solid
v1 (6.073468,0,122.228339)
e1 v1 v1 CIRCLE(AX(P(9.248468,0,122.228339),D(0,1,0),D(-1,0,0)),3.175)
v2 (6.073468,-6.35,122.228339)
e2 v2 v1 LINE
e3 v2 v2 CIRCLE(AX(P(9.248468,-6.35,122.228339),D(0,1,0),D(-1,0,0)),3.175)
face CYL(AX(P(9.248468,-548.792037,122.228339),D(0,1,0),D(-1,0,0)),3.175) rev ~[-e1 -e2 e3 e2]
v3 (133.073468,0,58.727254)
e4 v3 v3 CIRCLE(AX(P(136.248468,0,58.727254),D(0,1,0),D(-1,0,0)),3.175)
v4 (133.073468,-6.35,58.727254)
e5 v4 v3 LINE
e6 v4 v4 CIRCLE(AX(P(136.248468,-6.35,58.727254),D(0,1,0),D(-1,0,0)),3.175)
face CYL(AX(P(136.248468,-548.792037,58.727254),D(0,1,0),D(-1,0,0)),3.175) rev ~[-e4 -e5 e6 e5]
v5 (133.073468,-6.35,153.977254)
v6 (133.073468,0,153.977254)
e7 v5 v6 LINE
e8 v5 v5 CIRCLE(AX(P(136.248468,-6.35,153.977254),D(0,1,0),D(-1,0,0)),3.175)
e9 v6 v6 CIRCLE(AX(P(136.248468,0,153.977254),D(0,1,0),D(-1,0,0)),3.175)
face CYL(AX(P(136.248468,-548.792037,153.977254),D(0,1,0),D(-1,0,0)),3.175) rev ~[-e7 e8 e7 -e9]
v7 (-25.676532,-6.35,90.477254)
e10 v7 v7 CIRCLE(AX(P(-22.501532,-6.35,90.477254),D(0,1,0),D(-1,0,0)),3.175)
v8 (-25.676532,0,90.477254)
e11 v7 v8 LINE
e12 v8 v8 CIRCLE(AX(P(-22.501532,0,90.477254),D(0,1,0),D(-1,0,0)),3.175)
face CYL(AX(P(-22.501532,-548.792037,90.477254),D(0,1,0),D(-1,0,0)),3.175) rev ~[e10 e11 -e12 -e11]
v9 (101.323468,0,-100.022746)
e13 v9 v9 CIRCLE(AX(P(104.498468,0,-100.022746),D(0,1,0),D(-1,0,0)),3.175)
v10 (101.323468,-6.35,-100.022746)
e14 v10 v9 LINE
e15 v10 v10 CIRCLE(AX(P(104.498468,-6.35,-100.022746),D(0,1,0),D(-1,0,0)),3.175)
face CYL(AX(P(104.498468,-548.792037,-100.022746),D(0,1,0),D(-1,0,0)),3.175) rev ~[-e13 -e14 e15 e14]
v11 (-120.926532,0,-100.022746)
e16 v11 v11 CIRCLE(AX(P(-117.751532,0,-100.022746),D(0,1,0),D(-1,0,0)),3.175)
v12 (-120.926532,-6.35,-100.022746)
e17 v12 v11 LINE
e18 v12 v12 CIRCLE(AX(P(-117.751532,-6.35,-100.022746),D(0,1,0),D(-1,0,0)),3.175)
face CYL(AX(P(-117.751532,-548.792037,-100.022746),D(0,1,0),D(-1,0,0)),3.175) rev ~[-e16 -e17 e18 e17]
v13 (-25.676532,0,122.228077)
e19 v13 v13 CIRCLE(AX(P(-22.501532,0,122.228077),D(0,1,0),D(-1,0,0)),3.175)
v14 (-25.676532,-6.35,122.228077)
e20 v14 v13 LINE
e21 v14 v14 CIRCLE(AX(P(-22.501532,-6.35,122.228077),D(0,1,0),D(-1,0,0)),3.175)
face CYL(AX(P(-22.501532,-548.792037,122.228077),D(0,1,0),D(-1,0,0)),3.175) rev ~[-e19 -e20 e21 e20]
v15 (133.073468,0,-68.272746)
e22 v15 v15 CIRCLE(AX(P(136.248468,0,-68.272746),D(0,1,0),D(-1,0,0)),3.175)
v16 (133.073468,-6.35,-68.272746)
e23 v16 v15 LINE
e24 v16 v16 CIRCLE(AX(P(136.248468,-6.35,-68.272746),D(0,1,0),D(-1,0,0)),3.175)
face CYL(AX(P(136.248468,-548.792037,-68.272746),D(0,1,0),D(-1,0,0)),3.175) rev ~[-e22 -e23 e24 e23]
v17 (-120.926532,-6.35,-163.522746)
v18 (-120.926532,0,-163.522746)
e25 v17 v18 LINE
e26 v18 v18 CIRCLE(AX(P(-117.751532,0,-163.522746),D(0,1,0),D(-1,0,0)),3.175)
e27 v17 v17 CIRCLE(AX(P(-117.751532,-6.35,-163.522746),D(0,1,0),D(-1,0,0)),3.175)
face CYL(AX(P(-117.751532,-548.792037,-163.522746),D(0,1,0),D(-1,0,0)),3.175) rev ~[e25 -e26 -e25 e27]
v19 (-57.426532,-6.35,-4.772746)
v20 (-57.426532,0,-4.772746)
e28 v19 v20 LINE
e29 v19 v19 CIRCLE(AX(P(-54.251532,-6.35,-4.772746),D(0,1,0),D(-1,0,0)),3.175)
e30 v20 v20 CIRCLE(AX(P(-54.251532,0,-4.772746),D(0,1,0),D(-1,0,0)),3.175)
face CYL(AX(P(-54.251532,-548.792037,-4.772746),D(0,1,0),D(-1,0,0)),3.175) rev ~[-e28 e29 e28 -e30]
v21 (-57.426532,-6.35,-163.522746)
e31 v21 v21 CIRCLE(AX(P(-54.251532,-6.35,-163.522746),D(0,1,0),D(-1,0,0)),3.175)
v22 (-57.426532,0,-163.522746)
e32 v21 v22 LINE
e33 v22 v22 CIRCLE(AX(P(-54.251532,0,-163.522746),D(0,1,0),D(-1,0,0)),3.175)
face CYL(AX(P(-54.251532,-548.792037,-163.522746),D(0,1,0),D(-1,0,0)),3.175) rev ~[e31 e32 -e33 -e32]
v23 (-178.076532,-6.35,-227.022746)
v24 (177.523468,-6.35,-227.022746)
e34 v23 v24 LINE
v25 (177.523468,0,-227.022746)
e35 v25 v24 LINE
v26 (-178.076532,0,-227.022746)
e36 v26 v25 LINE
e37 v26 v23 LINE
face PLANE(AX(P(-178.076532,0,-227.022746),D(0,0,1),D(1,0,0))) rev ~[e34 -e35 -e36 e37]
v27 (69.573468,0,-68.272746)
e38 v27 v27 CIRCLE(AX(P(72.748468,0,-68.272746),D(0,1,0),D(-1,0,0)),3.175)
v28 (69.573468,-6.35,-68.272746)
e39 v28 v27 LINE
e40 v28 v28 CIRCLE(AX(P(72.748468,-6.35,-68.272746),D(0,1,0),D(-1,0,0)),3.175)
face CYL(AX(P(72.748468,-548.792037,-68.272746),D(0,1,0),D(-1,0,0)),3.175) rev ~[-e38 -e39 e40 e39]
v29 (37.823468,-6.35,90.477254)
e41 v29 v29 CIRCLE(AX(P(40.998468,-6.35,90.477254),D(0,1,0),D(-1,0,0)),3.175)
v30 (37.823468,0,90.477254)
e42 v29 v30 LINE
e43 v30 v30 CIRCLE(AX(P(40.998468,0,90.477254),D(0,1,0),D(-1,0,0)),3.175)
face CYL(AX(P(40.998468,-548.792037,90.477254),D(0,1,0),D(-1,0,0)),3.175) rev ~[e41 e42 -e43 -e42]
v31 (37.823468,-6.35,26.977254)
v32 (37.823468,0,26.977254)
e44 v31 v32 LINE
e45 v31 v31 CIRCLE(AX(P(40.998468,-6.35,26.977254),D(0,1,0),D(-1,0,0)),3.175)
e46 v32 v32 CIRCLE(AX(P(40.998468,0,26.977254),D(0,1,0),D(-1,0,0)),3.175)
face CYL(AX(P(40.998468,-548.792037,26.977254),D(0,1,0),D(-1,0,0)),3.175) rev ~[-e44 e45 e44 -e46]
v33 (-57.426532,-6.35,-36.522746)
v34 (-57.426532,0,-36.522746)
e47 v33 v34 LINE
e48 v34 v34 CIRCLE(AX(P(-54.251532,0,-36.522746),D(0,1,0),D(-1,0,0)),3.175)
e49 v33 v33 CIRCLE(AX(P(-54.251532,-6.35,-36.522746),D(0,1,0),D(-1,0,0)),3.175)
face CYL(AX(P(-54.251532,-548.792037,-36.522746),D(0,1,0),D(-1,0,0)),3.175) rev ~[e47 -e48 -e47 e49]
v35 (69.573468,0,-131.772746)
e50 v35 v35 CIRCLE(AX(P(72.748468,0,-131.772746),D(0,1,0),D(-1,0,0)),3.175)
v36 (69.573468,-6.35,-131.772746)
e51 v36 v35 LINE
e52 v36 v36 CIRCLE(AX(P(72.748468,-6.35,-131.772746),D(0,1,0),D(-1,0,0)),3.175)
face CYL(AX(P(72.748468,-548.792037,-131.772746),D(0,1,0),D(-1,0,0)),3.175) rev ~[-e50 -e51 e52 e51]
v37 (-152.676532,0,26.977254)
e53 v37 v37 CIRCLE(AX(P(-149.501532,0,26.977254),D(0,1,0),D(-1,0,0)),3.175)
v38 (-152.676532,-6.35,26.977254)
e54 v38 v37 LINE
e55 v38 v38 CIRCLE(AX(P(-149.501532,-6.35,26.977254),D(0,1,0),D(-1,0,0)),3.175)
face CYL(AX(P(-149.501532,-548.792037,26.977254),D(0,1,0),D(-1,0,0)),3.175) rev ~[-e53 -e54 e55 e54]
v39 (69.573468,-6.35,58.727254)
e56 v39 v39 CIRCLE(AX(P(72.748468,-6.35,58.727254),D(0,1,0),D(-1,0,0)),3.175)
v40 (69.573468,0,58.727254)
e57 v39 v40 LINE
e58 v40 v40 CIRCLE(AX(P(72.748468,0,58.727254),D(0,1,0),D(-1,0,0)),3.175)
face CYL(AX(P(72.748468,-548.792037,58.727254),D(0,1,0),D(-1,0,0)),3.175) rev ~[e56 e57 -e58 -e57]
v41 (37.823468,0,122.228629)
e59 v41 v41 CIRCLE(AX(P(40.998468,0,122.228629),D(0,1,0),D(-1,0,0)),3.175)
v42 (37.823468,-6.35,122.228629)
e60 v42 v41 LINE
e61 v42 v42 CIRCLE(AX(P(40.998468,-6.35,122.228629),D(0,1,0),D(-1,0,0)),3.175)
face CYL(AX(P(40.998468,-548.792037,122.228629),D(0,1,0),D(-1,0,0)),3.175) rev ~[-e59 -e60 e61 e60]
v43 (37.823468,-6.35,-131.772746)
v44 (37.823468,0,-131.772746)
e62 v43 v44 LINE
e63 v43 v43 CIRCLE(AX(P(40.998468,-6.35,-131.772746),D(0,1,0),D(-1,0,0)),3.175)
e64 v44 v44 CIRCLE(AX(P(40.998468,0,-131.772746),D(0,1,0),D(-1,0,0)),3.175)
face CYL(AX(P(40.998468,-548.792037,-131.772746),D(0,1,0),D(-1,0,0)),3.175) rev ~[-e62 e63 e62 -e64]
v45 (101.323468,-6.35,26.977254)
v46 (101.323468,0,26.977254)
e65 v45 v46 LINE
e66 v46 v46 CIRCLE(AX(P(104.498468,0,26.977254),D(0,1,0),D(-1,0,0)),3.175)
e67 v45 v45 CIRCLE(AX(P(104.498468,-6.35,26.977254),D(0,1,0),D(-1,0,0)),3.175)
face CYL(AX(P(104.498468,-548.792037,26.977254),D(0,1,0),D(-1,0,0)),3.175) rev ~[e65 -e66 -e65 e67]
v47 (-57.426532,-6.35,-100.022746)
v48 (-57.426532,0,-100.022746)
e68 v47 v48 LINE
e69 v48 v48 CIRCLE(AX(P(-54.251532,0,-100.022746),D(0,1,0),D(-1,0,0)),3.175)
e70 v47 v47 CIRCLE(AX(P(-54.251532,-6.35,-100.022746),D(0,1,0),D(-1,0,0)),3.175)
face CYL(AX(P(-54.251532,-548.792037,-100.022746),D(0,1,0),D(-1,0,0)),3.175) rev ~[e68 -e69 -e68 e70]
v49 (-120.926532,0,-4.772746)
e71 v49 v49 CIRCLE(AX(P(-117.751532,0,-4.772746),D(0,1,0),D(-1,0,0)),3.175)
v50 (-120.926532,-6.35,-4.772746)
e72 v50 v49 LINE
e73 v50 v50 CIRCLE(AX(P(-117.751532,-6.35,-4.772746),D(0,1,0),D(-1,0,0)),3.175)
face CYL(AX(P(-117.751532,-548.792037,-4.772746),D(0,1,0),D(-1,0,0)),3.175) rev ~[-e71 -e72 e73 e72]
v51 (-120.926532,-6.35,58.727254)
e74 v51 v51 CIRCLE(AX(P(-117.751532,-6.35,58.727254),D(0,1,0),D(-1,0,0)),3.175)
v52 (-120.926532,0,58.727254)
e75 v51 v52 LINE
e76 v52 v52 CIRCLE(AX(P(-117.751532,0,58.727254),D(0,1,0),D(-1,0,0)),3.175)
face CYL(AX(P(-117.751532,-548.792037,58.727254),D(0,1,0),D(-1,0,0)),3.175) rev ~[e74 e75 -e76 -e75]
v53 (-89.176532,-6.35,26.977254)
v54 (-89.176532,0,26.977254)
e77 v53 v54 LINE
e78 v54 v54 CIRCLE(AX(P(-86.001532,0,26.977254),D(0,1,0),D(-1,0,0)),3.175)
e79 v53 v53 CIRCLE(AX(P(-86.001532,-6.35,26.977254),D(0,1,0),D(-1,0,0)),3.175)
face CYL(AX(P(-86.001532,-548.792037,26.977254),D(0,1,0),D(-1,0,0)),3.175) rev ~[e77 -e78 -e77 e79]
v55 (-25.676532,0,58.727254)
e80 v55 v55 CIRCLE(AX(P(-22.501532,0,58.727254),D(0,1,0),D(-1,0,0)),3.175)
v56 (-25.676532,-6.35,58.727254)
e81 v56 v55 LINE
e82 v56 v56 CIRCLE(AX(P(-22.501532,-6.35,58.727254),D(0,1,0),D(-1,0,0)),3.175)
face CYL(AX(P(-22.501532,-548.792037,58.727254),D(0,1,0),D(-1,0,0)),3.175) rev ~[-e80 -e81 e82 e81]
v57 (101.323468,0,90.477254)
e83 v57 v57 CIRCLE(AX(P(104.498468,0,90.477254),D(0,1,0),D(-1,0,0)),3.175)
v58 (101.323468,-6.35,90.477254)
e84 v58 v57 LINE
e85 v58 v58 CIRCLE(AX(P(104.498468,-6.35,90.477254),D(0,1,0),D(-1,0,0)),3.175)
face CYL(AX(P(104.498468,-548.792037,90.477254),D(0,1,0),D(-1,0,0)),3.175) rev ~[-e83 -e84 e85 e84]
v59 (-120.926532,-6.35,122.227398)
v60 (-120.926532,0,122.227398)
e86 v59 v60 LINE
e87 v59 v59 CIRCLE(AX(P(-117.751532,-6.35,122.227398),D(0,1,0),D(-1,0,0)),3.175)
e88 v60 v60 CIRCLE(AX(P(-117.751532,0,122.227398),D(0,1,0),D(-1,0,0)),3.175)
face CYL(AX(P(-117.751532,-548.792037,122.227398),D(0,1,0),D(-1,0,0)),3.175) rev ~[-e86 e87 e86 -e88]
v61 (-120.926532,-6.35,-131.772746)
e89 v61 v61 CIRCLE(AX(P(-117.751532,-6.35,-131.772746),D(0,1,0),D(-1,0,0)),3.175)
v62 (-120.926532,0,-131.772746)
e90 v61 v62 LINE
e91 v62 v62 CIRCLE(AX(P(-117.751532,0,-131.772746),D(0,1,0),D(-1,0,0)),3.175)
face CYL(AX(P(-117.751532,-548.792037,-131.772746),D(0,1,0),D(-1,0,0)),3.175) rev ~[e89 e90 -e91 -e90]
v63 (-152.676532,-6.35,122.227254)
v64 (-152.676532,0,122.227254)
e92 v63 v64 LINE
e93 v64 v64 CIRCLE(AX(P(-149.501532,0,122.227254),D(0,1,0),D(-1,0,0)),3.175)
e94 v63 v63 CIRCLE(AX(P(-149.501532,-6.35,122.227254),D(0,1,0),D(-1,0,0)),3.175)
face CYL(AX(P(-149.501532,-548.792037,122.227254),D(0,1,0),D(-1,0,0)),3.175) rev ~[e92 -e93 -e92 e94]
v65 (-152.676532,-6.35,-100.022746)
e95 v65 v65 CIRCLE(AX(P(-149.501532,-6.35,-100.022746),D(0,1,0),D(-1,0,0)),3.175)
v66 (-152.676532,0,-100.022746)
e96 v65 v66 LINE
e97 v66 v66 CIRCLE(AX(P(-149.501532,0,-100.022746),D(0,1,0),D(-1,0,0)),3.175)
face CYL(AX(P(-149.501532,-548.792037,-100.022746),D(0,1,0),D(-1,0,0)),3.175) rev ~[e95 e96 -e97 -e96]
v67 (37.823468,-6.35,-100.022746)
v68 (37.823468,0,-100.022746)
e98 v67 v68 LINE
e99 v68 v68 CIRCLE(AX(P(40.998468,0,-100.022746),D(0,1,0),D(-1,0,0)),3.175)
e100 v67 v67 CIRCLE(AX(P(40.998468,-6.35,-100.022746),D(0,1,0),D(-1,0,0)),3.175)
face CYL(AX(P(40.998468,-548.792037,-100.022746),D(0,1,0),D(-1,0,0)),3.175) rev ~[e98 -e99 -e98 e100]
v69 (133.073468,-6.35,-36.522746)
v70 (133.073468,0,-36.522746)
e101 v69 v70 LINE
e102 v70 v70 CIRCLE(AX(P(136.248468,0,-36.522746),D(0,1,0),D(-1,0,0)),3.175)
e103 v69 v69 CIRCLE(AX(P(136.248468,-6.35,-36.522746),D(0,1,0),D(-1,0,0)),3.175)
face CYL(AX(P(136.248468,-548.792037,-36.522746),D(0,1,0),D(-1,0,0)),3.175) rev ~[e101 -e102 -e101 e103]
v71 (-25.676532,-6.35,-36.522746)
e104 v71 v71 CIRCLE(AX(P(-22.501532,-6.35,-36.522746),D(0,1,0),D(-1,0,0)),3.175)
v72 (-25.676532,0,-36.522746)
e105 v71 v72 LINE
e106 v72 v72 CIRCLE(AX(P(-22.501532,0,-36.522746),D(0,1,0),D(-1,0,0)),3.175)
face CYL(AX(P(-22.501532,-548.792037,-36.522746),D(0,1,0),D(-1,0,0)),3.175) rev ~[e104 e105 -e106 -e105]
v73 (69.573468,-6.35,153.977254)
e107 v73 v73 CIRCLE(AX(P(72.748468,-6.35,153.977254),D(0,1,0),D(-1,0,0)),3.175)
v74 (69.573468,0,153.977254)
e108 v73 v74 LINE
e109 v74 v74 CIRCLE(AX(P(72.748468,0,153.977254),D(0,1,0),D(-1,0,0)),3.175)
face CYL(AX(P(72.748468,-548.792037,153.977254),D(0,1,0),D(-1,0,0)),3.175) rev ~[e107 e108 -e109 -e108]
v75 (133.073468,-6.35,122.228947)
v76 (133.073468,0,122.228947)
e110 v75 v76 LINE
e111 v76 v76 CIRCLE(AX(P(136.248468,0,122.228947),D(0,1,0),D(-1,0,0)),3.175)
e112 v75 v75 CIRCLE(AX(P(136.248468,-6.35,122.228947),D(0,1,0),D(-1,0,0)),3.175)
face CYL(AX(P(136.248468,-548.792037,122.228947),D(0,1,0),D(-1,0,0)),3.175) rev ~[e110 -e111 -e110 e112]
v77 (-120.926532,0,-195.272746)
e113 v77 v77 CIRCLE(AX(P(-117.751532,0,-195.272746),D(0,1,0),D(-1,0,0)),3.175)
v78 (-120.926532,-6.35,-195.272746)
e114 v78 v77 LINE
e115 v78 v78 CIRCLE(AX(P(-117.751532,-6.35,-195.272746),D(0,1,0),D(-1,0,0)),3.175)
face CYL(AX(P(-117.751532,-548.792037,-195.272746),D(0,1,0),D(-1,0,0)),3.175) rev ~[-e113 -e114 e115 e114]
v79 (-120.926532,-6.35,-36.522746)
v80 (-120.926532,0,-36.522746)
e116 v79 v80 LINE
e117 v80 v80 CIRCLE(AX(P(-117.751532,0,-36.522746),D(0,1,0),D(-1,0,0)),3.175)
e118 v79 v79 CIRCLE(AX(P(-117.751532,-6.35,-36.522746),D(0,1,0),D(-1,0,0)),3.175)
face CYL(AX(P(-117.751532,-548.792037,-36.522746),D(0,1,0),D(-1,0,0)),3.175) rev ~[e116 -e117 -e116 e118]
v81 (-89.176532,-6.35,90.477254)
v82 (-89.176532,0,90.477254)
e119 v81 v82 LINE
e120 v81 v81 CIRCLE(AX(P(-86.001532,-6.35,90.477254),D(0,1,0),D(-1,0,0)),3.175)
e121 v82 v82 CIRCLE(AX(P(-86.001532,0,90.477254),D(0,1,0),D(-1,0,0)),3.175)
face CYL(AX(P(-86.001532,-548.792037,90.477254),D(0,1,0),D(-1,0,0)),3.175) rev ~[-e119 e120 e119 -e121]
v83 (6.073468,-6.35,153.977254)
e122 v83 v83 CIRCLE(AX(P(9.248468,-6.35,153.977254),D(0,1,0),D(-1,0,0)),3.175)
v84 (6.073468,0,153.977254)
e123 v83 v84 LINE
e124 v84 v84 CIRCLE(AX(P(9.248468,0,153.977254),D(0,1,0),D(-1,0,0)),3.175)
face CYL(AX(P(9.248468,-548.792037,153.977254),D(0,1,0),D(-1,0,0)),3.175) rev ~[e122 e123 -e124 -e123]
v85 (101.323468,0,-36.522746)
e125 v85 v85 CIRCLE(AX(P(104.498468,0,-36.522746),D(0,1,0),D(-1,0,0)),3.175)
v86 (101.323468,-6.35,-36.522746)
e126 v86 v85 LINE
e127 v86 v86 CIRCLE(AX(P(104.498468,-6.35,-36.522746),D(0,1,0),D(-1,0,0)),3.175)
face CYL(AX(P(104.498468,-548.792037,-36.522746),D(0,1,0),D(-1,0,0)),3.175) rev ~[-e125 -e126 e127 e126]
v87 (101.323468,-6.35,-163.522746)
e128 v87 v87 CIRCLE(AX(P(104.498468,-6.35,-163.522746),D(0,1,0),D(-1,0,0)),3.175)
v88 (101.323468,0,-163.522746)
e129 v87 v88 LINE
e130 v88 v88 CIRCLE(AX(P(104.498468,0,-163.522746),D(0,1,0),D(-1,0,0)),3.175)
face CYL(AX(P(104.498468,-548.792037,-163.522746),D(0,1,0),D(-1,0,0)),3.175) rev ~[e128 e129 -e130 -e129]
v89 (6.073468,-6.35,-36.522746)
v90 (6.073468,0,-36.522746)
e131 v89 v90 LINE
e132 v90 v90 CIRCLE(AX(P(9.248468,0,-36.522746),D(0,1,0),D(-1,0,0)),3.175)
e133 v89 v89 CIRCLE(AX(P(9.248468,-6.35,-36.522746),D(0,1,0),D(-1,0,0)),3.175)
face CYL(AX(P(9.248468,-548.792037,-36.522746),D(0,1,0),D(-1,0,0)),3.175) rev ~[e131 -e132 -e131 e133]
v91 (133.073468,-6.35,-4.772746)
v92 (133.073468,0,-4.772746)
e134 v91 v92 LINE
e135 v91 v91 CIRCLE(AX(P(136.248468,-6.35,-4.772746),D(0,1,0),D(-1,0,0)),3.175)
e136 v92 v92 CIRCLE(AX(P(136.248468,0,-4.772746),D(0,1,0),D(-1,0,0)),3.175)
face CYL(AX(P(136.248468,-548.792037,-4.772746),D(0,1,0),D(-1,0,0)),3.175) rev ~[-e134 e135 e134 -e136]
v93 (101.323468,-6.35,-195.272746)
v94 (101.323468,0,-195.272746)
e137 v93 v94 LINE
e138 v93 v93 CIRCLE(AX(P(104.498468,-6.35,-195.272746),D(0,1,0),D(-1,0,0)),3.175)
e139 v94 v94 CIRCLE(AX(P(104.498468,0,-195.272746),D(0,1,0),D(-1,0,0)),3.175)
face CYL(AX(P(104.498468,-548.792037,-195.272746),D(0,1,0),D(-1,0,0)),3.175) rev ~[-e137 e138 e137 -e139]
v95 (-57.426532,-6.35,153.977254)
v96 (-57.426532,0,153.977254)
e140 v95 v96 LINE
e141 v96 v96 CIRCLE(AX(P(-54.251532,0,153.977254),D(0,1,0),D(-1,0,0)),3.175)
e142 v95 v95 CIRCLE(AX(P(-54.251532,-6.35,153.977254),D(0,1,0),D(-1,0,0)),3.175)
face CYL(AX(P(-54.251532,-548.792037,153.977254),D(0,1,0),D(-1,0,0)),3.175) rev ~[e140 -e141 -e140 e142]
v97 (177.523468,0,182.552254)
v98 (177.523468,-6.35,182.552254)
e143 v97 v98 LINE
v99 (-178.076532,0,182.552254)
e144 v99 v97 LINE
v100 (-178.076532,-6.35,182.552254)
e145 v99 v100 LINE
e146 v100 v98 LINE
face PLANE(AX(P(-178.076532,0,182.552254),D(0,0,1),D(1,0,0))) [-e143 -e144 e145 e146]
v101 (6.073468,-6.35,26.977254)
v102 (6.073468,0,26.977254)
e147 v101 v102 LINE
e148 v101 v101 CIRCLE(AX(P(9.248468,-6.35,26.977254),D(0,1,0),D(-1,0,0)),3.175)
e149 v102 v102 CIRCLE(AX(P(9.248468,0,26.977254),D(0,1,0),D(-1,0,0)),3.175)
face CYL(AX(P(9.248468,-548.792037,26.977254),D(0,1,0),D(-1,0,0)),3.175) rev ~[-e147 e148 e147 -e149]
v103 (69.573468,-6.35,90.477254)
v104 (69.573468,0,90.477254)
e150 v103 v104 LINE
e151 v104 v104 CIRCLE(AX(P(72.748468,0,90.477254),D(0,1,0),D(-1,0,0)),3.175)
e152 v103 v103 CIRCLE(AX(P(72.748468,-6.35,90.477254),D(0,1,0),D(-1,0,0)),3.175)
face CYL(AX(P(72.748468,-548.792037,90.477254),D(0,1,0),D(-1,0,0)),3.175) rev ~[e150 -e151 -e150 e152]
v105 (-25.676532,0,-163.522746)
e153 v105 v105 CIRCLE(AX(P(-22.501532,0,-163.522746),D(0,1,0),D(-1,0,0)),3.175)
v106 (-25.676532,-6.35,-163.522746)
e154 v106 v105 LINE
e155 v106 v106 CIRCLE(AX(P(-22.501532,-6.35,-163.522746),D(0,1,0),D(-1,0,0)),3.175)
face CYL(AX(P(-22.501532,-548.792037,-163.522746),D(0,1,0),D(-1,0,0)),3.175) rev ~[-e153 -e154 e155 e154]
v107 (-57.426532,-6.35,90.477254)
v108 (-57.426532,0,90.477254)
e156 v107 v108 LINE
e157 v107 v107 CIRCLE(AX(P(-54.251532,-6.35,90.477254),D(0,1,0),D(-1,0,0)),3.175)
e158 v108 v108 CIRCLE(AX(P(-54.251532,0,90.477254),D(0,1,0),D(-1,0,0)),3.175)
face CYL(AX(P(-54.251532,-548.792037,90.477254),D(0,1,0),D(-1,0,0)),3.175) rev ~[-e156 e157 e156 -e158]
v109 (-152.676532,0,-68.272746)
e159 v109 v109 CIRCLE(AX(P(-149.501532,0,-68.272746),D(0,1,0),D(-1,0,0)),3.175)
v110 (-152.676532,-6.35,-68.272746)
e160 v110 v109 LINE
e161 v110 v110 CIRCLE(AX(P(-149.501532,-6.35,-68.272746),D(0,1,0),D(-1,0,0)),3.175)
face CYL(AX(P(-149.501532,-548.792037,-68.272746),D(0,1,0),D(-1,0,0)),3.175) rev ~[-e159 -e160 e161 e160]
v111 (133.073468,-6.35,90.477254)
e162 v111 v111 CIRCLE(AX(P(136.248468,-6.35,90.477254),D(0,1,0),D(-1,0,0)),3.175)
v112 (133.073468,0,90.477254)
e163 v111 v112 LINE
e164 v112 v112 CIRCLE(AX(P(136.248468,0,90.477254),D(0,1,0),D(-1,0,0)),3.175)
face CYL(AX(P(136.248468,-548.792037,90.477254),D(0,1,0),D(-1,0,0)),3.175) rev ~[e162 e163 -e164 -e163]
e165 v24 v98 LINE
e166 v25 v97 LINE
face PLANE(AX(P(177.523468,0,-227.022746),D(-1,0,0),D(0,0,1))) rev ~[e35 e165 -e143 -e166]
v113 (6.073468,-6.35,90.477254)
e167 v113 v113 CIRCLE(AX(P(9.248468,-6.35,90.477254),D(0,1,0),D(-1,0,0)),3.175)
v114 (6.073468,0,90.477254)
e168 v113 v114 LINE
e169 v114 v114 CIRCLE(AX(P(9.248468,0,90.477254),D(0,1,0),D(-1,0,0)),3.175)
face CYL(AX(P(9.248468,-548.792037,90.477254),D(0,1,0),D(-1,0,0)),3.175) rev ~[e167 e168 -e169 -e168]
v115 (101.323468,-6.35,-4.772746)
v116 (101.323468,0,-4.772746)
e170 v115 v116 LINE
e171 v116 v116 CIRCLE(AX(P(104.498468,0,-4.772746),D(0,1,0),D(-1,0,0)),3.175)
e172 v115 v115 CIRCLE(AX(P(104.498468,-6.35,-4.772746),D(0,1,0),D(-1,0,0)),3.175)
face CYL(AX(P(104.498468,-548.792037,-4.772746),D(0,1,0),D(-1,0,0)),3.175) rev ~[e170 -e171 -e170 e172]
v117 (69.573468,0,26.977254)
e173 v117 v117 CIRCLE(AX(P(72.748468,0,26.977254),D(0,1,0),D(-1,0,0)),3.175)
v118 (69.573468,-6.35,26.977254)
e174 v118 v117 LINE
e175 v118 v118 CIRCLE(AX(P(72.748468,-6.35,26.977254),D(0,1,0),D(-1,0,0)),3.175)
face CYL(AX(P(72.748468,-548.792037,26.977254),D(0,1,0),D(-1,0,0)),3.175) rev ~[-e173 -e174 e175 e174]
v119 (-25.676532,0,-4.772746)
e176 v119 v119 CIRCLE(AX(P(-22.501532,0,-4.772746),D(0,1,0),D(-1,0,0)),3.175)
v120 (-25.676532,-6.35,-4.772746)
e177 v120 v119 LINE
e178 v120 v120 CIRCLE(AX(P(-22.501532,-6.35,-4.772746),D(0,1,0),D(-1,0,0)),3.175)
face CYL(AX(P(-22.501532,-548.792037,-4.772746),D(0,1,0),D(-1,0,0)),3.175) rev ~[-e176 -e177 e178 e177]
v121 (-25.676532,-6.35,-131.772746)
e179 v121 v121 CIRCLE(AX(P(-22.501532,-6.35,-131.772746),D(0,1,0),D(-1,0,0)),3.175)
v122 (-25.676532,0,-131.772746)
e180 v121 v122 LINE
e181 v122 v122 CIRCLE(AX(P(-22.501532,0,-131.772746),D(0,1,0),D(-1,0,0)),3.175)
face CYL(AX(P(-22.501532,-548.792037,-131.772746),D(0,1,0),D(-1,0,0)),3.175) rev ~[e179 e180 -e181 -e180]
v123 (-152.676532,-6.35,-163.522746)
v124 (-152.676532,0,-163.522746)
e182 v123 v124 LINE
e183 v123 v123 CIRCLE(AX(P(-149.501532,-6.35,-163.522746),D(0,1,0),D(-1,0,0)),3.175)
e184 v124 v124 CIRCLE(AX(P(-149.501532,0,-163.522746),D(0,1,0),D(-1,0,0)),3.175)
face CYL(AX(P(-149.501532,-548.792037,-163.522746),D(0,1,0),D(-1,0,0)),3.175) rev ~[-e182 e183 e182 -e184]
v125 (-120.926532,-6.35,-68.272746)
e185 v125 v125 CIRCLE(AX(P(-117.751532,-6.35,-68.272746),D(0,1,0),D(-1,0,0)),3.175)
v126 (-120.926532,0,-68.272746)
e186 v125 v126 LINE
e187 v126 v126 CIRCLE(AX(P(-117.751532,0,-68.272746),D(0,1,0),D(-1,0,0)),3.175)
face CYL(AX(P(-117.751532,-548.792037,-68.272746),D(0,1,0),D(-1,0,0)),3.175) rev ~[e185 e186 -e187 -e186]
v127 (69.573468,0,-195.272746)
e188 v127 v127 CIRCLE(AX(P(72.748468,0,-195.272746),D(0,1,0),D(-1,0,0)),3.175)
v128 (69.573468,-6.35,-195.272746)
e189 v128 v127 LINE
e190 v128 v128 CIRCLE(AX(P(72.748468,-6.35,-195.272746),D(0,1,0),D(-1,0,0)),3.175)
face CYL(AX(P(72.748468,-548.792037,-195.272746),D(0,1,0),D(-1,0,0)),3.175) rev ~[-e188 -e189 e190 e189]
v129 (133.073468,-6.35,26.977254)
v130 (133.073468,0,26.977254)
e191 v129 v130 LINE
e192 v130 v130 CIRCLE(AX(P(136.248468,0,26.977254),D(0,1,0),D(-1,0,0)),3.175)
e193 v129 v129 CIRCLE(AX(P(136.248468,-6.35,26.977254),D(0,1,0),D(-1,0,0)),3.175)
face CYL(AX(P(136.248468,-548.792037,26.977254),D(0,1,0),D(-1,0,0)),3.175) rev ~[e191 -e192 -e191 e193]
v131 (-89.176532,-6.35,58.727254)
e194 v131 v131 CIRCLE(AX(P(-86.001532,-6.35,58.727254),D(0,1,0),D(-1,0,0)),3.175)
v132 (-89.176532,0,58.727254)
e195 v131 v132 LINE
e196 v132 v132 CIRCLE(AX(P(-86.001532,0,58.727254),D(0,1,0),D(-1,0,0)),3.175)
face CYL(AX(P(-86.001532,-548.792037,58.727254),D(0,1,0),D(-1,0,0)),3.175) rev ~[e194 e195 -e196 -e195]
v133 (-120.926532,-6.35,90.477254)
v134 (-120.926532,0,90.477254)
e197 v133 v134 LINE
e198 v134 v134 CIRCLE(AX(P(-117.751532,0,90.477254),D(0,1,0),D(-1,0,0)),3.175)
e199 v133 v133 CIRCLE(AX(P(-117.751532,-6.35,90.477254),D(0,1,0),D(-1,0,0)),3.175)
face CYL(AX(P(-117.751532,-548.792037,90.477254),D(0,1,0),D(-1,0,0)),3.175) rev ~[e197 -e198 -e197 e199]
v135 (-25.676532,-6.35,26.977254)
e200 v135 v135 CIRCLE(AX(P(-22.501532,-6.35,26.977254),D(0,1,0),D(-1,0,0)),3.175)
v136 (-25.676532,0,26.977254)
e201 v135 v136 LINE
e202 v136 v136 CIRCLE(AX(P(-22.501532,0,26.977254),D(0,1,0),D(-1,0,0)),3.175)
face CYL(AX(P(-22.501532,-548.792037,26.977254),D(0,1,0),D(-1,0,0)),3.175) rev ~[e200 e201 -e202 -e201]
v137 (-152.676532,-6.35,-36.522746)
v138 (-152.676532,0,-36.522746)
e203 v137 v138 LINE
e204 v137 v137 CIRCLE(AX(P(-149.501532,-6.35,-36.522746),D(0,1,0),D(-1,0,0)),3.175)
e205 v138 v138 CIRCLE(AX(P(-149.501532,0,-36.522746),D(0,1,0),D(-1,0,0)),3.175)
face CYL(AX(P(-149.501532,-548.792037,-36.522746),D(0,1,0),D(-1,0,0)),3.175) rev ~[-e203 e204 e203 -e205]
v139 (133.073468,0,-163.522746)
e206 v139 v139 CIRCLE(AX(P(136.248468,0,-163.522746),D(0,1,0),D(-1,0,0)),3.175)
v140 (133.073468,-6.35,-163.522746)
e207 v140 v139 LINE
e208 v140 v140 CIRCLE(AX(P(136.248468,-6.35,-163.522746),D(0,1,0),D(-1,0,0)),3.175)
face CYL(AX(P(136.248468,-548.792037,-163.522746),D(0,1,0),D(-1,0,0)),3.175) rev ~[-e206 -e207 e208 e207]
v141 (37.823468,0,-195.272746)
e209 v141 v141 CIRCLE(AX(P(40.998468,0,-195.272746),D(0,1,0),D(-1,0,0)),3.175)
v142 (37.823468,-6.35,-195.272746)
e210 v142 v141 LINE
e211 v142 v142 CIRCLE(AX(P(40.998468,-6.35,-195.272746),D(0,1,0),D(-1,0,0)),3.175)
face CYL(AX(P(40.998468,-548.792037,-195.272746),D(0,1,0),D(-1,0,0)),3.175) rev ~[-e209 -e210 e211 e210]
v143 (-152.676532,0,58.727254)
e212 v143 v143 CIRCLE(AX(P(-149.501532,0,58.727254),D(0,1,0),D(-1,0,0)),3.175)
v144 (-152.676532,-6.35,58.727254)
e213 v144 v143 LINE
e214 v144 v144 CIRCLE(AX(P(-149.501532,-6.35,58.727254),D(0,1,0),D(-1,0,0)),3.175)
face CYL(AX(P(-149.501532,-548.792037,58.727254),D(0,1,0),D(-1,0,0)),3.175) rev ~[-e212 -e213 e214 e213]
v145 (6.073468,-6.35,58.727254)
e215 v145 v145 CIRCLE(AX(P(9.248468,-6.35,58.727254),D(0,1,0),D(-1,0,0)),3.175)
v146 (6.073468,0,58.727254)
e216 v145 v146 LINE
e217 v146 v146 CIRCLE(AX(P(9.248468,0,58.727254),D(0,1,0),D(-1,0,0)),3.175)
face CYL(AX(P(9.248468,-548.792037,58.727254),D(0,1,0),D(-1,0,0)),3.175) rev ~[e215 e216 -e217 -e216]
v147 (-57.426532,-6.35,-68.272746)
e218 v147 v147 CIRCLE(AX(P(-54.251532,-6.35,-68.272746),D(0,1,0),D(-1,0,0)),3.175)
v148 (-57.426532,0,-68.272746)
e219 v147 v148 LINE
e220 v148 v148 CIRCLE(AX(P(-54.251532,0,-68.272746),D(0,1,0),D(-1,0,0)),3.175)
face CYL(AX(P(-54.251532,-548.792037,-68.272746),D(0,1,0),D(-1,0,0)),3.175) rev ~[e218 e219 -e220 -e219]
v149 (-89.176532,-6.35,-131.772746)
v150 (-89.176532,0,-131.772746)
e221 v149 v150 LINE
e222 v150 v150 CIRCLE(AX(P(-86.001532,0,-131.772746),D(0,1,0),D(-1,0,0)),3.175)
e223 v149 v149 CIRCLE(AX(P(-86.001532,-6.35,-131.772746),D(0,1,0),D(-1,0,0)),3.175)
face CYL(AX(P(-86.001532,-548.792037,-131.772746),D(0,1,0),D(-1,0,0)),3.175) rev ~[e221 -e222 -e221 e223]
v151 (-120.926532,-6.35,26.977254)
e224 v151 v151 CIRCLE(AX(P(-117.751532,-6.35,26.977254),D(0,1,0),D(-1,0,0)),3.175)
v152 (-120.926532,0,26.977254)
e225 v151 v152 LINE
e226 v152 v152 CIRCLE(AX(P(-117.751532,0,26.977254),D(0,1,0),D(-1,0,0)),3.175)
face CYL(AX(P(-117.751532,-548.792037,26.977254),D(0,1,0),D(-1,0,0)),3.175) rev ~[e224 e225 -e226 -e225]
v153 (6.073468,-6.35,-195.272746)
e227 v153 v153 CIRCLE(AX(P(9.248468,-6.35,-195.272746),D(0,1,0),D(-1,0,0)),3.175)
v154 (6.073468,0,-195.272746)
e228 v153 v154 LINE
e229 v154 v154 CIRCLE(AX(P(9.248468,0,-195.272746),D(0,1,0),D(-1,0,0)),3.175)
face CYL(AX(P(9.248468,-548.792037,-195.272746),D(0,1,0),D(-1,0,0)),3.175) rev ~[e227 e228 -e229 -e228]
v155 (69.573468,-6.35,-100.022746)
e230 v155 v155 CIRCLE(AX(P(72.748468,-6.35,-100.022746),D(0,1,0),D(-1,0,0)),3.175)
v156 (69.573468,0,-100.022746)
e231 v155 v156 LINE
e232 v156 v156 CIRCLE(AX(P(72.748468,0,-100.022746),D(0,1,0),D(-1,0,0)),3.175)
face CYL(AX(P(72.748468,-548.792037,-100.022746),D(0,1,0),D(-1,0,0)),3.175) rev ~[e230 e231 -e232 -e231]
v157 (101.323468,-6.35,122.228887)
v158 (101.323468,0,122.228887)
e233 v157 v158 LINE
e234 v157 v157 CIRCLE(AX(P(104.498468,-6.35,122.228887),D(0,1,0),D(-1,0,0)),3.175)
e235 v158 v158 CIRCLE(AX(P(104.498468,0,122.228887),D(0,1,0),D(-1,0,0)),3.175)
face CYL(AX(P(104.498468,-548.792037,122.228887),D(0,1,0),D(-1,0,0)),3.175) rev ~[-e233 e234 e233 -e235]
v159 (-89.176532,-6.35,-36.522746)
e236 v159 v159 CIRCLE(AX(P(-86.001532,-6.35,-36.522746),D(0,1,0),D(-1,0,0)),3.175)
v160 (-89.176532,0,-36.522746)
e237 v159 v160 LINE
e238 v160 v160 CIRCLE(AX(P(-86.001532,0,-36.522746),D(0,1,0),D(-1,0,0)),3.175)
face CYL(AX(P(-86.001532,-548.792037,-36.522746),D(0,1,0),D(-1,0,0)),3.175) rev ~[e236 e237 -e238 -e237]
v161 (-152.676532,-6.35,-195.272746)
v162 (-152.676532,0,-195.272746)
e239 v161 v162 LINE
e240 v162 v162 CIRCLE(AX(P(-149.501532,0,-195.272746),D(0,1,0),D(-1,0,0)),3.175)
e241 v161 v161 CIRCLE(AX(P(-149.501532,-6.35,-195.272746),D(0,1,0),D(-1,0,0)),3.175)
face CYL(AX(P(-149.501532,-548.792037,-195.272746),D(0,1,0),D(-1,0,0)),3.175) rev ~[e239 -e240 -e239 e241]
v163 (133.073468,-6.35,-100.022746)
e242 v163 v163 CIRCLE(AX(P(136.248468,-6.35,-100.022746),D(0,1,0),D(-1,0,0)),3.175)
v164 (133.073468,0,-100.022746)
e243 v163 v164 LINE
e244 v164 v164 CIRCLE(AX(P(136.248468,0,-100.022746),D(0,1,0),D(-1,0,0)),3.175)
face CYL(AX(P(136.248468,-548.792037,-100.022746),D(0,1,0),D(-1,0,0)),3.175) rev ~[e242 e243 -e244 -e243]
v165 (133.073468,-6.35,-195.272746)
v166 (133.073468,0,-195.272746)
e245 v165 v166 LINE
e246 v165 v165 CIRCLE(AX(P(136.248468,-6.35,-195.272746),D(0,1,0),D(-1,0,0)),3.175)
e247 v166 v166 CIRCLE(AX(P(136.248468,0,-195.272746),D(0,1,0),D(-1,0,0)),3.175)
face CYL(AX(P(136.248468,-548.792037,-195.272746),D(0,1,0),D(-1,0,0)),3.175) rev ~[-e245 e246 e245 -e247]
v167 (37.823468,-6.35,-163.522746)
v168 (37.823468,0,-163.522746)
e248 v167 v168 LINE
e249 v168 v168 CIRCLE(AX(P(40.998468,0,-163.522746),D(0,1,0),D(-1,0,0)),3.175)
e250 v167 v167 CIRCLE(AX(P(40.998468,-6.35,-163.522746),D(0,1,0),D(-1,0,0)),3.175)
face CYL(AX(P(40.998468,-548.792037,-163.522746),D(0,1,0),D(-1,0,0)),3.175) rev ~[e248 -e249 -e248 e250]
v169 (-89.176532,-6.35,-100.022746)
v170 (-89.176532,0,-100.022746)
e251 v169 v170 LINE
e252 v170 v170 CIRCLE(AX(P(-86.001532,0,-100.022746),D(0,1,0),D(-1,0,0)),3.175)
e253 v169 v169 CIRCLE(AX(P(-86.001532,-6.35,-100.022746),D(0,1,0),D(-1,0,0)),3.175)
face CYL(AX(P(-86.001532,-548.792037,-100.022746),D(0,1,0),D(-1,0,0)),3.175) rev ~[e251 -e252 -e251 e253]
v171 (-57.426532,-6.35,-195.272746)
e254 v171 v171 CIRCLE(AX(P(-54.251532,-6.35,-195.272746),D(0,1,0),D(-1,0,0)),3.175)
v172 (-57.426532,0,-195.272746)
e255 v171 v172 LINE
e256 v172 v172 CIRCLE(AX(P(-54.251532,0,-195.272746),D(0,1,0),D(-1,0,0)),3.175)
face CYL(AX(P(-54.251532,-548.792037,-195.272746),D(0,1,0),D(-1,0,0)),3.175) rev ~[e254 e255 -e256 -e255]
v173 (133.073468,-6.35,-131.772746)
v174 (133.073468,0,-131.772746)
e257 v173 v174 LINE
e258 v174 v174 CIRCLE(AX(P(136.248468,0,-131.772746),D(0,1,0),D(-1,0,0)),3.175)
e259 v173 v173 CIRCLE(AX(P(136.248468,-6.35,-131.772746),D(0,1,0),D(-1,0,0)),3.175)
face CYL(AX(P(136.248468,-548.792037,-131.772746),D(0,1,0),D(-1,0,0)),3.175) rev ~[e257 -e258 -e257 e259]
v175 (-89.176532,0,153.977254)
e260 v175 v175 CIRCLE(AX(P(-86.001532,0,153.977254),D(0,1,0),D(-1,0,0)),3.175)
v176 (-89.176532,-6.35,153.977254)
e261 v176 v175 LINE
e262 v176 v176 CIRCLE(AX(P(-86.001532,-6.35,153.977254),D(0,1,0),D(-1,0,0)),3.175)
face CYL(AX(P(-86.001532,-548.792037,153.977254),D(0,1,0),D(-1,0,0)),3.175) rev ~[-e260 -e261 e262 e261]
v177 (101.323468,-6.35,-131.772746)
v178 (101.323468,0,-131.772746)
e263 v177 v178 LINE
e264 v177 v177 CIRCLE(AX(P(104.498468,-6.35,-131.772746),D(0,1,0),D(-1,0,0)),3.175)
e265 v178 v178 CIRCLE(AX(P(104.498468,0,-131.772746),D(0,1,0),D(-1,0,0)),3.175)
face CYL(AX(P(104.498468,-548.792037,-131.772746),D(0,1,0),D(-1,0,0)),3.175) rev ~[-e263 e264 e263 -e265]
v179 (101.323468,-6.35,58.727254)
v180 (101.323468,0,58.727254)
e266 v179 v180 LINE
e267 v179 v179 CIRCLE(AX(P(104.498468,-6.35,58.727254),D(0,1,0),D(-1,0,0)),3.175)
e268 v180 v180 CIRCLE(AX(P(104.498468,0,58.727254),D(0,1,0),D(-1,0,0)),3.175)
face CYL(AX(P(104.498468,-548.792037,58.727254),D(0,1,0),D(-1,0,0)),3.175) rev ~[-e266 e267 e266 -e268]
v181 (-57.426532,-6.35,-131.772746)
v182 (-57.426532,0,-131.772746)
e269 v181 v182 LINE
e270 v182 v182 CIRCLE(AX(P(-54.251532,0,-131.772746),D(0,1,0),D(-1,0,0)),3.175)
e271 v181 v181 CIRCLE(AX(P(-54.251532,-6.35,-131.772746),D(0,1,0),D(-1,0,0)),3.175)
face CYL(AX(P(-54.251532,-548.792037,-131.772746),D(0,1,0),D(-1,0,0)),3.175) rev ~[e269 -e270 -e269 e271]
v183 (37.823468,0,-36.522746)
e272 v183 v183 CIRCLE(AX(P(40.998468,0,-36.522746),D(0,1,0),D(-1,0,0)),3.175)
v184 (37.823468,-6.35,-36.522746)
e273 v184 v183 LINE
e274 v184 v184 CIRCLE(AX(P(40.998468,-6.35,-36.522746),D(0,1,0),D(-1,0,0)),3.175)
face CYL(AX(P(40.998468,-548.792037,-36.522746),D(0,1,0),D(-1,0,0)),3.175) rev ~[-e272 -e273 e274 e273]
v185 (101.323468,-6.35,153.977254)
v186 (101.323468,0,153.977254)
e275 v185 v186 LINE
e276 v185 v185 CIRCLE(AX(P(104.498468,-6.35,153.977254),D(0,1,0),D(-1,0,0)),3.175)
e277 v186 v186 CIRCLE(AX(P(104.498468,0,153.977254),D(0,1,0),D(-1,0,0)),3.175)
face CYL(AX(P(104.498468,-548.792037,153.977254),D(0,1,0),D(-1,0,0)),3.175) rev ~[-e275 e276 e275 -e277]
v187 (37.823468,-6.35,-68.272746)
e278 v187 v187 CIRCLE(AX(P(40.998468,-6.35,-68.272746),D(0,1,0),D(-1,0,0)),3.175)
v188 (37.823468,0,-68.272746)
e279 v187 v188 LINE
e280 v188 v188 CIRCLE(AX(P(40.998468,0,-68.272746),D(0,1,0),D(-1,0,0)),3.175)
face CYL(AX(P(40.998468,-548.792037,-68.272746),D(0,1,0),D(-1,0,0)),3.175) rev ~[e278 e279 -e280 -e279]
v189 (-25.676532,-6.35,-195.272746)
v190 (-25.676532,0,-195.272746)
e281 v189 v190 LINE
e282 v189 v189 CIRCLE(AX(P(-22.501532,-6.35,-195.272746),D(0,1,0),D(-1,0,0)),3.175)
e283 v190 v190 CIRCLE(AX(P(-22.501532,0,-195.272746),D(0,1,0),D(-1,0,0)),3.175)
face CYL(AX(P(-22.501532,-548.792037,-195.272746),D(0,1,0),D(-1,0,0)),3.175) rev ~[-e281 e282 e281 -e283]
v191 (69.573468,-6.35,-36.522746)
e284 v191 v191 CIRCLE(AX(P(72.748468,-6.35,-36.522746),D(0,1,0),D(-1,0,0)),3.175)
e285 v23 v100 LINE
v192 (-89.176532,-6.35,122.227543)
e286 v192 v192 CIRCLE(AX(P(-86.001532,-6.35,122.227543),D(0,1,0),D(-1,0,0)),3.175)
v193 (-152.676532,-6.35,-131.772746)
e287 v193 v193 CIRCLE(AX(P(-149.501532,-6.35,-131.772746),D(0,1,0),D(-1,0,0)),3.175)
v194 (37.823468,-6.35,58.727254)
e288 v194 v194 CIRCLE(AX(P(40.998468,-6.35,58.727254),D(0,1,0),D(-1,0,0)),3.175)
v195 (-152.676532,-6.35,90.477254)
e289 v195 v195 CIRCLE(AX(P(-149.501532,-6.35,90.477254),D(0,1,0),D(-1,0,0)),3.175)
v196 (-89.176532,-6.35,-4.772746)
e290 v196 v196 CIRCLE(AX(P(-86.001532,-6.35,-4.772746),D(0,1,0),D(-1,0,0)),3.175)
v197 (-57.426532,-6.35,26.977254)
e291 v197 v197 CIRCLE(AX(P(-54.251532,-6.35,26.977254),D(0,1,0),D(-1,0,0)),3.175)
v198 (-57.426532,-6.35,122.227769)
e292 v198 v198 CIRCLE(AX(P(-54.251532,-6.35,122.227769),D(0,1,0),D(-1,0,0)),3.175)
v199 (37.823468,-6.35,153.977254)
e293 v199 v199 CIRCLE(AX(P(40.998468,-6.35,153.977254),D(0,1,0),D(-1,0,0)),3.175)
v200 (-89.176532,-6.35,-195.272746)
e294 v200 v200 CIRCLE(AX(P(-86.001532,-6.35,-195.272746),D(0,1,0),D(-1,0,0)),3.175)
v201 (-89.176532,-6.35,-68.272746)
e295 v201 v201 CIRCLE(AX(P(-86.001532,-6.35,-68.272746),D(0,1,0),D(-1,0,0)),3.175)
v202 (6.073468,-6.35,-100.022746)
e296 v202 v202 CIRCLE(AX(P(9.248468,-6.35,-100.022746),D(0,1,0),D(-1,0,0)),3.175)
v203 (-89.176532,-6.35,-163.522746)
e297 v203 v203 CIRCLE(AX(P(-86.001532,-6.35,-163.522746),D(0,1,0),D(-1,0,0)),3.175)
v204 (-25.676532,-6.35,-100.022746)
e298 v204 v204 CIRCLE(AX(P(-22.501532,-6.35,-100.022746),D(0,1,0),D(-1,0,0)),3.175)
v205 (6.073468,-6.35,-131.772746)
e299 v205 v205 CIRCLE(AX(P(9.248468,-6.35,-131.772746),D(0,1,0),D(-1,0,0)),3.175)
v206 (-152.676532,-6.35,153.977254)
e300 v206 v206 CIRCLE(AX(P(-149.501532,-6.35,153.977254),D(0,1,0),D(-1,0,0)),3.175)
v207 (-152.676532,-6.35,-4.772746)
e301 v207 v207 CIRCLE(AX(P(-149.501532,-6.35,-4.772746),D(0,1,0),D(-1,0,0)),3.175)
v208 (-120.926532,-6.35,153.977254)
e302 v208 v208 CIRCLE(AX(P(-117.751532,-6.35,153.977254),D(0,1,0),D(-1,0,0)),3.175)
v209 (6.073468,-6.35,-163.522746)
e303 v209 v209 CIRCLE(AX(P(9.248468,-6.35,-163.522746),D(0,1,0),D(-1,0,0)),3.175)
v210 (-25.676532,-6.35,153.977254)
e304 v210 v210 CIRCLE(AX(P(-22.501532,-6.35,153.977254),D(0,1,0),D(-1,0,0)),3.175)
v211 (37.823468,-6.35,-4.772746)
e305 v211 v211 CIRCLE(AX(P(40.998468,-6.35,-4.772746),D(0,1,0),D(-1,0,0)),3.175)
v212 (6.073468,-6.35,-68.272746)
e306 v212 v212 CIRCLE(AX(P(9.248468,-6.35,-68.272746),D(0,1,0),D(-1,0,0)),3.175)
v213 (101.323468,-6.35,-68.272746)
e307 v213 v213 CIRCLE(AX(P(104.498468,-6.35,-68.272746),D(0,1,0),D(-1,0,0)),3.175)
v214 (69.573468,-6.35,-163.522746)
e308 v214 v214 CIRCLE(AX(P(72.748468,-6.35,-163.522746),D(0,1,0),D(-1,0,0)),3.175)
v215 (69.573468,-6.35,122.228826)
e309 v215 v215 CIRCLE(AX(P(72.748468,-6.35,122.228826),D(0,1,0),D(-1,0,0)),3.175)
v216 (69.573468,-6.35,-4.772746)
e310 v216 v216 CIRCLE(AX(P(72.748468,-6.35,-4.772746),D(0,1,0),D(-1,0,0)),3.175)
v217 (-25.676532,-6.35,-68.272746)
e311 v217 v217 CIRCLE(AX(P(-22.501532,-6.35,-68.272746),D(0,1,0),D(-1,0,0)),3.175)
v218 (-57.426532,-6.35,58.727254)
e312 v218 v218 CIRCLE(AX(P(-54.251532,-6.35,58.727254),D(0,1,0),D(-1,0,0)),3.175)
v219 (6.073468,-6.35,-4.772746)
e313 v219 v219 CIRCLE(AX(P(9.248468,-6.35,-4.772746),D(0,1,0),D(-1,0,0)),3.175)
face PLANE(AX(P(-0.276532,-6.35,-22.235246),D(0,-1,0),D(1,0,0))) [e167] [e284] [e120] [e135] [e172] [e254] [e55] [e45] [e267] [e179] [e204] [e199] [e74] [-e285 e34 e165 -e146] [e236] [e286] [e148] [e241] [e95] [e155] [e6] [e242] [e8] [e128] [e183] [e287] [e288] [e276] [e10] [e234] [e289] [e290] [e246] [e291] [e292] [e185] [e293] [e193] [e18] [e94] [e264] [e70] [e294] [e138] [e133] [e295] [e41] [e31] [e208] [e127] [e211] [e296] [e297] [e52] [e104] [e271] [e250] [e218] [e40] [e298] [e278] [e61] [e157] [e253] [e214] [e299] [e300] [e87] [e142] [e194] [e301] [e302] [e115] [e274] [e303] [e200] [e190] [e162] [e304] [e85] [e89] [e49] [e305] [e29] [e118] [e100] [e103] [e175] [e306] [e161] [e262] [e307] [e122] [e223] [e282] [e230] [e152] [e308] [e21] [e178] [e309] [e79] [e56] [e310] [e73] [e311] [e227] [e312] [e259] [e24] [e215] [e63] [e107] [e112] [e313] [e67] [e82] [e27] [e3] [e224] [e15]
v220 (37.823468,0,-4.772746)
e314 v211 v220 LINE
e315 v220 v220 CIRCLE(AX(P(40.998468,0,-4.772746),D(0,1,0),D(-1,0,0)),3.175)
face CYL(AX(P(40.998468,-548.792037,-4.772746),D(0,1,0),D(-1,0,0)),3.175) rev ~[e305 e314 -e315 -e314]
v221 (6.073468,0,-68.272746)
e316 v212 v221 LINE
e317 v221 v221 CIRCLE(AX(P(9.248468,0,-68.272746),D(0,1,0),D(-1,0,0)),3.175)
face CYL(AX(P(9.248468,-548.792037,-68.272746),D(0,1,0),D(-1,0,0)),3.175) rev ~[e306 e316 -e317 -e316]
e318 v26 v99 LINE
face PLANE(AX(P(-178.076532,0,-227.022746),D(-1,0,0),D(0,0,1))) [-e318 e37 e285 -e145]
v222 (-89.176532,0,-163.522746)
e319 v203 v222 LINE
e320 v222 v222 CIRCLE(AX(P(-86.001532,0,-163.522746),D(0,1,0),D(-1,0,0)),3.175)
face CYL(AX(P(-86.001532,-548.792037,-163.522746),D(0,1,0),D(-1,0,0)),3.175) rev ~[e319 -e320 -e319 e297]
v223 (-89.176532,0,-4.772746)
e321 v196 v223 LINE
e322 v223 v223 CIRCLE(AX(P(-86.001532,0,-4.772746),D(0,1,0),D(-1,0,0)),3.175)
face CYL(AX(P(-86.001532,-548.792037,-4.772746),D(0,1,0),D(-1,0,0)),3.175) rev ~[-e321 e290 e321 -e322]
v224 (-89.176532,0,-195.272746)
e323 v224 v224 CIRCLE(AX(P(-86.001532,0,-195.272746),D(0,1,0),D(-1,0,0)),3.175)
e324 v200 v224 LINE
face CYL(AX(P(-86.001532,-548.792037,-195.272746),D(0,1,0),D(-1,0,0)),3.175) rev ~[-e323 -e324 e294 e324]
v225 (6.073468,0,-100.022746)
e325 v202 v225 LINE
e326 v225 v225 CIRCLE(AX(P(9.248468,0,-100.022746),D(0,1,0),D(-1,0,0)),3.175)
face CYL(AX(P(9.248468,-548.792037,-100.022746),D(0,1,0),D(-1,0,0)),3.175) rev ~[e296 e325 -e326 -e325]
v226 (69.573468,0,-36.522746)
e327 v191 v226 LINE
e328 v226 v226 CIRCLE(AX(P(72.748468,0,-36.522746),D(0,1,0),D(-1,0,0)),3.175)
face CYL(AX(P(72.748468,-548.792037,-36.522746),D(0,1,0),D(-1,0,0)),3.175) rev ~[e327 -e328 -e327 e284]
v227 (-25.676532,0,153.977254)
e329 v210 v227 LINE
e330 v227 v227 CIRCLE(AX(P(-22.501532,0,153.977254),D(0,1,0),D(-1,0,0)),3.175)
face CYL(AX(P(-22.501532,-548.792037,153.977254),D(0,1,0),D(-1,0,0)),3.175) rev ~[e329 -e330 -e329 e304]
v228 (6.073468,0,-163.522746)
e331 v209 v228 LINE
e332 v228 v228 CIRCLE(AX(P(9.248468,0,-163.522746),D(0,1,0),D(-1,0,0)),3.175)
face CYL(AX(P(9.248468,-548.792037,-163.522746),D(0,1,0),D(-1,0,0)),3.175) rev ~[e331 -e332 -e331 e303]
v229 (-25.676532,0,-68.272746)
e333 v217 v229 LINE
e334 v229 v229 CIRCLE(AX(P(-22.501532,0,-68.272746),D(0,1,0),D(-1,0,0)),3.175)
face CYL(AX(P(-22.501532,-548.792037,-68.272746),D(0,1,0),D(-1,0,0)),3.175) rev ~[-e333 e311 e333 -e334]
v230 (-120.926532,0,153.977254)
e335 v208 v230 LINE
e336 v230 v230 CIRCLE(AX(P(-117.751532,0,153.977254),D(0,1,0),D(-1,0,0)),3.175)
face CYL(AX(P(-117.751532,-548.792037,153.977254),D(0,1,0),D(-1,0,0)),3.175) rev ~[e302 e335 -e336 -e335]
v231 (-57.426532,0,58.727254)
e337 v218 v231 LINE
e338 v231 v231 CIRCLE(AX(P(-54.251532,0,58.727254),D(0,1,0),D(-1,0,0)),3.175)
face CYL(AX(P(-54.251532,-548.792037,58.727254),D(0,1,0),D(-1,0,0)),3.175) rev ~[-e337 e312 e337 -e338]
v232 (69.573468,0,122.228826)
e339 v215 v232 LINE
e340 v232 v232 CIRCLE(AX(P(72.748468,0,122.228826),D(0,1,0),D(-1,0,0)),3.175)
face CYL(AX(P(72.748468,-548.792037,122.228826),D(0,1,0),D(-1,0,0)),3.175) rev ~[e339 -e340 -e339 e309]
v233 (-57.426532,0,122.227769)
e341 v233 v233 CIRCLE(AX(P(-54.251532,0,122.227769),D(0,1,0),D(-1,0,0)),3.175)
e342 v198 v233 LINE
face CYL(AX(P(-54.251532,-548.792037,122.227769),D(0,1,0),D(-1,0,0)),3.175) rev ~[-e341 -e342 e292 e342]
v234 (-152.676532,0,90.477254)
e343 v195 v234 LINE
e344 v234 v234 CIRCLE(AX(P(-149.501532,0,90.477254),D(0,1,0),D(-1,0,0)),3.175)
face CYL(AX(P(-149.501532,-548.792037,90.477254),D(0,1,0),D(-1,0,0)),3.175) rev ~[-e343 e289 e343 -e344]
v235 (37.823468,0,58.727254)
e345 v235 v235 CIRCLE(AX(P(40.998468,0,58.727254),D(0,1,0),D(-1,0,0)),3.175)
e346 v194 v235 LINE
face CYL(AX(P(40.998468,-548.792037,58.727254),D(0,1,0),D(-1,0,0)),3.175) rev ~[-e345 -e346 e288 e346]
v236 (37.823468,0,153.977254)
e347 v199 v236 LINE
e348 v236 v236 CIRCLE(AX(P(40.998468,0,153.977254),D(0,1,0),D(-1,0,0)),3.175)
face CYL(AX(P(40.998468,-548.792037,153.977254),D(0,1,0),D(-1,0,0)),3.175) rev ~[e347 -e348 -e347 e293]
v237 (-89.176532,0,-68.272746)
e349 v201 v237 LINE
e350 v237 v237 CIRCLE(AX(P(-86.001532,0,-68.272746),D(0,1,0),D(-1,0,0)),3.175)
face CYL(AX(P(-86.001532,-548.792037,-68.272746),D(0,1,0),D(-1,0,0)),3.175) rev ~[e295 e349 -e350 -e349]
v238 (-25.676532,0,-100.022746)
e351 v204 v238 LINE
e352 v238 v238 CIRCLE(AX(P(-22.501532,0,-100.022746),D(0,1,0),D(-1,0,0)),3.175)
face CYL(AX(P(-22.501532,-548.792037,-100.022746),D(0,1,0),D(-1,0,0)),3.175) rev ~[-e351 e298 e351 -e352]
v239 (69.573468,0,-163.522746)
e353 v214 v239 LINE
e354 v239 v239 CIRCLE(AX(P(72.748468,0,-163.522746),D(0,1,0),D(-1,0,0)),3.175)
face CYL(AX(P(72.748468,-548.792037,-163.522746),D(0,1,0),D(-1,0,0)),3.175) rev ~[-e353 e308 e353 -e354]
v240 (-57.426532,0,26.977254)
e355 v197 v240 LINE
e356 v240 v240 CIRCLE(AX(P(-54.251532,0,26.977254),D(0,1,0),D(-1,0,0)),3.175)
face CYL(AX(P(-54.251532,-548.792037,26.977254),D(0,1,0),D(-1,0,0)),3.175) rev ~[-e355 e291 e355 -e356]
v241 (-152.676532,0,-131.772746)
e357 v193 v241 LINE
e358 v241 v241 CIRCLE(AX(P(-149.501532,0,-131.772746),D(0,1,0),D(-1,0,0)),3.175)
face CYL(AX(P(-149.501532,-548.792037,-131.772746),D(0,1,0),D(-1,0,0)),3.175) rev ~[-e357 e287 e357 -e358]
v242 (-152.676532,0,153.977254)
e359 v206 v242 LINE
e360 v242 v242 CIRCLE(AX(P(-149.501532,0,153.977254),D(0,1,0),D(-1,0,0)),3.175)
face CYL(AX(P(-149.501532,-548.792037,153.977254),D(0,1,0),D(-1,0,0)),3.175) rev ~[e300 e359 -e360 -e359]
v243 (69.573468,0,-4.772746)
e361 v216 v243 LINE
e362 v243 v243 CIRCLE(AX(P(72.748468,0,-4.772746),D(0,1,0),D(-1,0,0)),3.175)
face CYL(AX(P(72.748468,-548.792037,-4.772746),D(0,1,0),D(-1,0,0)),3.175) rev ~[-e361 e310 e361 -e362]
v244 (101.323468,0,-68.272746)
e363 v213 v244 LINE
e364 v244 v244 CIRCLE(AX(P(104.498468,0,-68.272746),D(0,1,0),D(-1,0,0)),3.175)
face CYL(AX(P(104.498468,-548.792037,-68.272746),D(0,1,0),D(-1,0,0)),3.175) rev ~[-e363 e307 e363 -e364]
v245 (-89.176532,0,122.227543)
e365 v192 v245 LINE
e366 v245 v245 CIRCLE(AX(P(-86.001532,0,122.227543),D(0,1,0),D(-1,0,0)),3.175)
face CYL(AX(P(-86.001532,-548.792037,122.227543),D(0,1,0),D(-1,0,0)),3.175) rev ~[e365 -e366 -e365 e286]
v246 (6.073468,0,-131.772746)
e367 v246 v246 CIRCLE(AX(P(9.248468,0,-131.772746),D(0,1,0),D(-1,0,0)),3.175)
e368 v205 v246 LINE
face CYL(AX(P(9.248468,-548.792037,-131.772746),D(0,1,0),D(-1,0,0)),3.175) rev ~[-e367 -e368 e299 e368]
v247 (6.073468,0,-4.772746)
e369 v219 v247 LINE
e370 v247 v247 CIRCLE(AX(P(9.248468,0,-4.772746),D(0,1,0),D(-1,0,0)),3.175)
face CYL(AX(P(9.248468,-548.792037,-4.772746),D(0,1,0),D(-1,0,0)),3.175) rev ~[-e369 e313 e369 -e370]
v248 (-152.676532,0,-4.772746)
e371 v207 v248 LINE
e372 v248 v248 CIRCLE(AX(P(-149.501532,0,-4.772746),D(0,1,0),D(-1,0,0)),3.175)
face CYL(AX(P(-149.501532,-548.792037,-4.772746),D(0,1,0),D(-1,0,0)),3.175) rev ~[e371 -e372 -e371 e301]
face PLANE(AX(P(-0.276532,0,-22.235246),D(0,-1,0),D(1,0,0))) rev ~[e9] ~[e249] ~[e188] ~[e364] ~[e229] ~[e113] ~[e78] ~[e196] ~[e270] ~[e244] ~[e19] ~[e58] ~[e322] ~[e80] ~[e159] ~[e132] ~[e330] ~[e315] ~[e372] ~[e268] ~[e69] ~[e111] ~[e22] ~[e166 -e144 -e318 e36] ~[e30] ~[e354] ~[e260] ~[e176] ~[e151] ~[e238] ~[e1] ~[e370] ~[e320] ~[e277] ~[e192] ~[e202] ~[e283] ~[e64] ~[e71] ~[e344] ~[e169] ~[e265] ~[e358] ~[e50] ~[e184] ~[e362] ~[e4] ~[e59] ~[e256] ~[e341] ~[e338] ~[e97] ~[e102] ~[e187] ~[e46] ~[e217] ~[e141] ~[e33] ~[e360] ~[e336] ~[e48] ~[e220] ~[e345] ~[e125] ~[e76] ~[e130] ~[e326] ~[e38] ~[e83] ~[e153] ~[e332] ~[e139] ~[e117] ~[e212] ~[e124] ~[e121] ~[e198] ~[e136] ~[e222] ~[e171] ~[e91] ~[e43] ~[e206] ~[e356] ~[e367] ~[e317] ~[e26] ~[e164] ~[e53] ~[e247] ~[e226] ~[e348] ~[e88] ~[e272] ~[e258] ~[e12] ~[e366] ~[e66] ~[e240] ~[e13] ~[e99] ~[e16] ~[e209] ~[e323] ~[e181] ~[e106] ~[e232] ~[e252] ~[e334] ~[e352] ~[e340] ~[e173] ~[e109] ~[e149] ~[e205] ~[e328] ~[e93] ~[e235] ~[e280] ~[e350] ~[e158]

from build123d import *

# Parameters (mm, degrees)
F0_W     = 355.6
F0_H     = 409.575
F1_DEPTH = 6.35
F3_D     = 6.35
F5_D     = 6.35
F7_D     = 6.35


with BuildPart() as f1:
    # F0 (on Front) → F1 (new body)
    with BuildSketch(Plane.XZ):
        with Locations((-0.276532, -22.235246)):
            Rectangle(F0_W, F0_H)
    extrude(amount=F1_DEPTH)

    # F3 (through all)
    with Locations(Plane.XZ.offset(6.35)):
        with Locations((-149.501532, 153.977254), (-117.751532, 153.977254), (-86.001532, 153.977254), (-54.251532, 153.977254), (-22.501532, 153.977254), (9.248468, 153.977254), (40.998468, 153.977254), (72.748468, 153.977254), (104.498468, 153.977254), (136.248468, 153.977254)):
            Hole(F3_D / 2)

    # F5 (through all)
    with Locations(Plane.XZ.offset(6.35)):
        with Locations((-149.501532, 122.227254), (-117.751532, 122.227398), (-86.001532, 122.227543), (-54.251532, 122.227769), (-22.501532, 122.228077), (9.248468, 122.228339), (40.998468, 122.228629), (72.748468, 122.228826), (104.498468, 122.228887), (136.248468, 122.228947)):
            Hole(F5_D / 2)

    # F7 (through all)
    with Locations(Plane.XZ.offset(6.35)):
        with Locations((72.748468, -4.772746), (-149.501532, -68.272746), (72.748468, 90.477254), (9.248468, 90.477254), (-22.501532, -163.522746), (9.248468, -131.772746), (-149.501532, 58.727254), (136.248468, 58.727254), (136.248468, -131.772746), (40.998468, -68.272746), (-149.501532, -163.522746), (-54.251532, 58.727254), (-117.751532, -4.772746), (136.248468, -195.272746), (-22.501532, -195.272746), (136.248468, 26.977254), (-149.501532, -195.272746), (-22.501532, 58.727254), (-54.251532, 26.977254), (136.248468, 90.477254), (-149.501532, 90.477254), (-54.251532, -163.522746), (9.248468, -100.022746), (-86.001532, 90.477254), (-54.251532, -36.522746), (-22.501532, -4.772746), (40.998468, -100.022746), (40.998468, 26.977254), (-54.251532, -100.022746), (-54.251532, -195.272746), (-117.751532, -68.272746), (104.498468, -163.522746), (-22.501532, -36.522746), (-86.001532, -131.772746), (9.248468, -195.272746), (9.248468, -4.772746), (-149.501532, -100.022746), (72.748468, -195.272746), (40.998468, 90.477254), (136.248468, -68.272746), (72.748468, 26.977254), (40.998468, -36.522746), (72.748468, -163.522746), (-54.251532, -131.772746), (136.248468, -100.022746), (72.748468, -100.022746), (-54.251532, -68.272746), (-22.501532, -68.272746), (-86.001532, -68.272746), (104.498468, 26.977254), (-86.001532, -36.522746), (-86.001532, -4.772746), (-149.501532, -4.772746), (136.248468, -4.772746), (9.248468, -36.522746), (136.248468, -36.522746), (-149.501532, -131.772746), (9.248468, -163.522746), (-54.251532, -4.772746), (-117.751532, -163.522746), (40.998468, -4.772746), (-22.501532, 90.477254), (40.998468, -195.272746), (-86.001532, -195.272746), (104.498468, -4.772746), (-86.001532, -163.522746), (-149.501532, -36.522746), (-117.751532, 90.477254), (-117.751532, 26.977254), (40.998468, -131.772746), (-54.251532, 90.477254), (-86.001532, 26.977254), (-117.751532, -195.272746), (104.498468, 90.477254), (-86.001532, -100.022746), (9.248468, 58.727254), (-22.501532, 26.977254), (104.498468, -195.272746), (72.748468, 58.727254), (-117.751532, -100.022746), (9.248468, -68.272746), (72.748468, -36.522746), (-86.001532, 58.727254), (104.498468, 58.727254), (40.998468, 58.727254), (104.498468, -100.022746), (136.248468, -163.522746), (104.498468, -131.772746), (72.748468, -68.272746), (-117.751532, 58.727254), (-22.501532, -131.772746), (72.748468, -131.772746), (40.998468, -163.522746), (104.498468, -68.272746), (-149.501532, 26.977254), (-117.751532, -131.772746), (-22.501532, -100.022746), (-117.751532, -36.522746), (104.498468, -36.522746), (9.248468, 26.977254)):
            Hole(F7_D / 2)


solid = f1.part
